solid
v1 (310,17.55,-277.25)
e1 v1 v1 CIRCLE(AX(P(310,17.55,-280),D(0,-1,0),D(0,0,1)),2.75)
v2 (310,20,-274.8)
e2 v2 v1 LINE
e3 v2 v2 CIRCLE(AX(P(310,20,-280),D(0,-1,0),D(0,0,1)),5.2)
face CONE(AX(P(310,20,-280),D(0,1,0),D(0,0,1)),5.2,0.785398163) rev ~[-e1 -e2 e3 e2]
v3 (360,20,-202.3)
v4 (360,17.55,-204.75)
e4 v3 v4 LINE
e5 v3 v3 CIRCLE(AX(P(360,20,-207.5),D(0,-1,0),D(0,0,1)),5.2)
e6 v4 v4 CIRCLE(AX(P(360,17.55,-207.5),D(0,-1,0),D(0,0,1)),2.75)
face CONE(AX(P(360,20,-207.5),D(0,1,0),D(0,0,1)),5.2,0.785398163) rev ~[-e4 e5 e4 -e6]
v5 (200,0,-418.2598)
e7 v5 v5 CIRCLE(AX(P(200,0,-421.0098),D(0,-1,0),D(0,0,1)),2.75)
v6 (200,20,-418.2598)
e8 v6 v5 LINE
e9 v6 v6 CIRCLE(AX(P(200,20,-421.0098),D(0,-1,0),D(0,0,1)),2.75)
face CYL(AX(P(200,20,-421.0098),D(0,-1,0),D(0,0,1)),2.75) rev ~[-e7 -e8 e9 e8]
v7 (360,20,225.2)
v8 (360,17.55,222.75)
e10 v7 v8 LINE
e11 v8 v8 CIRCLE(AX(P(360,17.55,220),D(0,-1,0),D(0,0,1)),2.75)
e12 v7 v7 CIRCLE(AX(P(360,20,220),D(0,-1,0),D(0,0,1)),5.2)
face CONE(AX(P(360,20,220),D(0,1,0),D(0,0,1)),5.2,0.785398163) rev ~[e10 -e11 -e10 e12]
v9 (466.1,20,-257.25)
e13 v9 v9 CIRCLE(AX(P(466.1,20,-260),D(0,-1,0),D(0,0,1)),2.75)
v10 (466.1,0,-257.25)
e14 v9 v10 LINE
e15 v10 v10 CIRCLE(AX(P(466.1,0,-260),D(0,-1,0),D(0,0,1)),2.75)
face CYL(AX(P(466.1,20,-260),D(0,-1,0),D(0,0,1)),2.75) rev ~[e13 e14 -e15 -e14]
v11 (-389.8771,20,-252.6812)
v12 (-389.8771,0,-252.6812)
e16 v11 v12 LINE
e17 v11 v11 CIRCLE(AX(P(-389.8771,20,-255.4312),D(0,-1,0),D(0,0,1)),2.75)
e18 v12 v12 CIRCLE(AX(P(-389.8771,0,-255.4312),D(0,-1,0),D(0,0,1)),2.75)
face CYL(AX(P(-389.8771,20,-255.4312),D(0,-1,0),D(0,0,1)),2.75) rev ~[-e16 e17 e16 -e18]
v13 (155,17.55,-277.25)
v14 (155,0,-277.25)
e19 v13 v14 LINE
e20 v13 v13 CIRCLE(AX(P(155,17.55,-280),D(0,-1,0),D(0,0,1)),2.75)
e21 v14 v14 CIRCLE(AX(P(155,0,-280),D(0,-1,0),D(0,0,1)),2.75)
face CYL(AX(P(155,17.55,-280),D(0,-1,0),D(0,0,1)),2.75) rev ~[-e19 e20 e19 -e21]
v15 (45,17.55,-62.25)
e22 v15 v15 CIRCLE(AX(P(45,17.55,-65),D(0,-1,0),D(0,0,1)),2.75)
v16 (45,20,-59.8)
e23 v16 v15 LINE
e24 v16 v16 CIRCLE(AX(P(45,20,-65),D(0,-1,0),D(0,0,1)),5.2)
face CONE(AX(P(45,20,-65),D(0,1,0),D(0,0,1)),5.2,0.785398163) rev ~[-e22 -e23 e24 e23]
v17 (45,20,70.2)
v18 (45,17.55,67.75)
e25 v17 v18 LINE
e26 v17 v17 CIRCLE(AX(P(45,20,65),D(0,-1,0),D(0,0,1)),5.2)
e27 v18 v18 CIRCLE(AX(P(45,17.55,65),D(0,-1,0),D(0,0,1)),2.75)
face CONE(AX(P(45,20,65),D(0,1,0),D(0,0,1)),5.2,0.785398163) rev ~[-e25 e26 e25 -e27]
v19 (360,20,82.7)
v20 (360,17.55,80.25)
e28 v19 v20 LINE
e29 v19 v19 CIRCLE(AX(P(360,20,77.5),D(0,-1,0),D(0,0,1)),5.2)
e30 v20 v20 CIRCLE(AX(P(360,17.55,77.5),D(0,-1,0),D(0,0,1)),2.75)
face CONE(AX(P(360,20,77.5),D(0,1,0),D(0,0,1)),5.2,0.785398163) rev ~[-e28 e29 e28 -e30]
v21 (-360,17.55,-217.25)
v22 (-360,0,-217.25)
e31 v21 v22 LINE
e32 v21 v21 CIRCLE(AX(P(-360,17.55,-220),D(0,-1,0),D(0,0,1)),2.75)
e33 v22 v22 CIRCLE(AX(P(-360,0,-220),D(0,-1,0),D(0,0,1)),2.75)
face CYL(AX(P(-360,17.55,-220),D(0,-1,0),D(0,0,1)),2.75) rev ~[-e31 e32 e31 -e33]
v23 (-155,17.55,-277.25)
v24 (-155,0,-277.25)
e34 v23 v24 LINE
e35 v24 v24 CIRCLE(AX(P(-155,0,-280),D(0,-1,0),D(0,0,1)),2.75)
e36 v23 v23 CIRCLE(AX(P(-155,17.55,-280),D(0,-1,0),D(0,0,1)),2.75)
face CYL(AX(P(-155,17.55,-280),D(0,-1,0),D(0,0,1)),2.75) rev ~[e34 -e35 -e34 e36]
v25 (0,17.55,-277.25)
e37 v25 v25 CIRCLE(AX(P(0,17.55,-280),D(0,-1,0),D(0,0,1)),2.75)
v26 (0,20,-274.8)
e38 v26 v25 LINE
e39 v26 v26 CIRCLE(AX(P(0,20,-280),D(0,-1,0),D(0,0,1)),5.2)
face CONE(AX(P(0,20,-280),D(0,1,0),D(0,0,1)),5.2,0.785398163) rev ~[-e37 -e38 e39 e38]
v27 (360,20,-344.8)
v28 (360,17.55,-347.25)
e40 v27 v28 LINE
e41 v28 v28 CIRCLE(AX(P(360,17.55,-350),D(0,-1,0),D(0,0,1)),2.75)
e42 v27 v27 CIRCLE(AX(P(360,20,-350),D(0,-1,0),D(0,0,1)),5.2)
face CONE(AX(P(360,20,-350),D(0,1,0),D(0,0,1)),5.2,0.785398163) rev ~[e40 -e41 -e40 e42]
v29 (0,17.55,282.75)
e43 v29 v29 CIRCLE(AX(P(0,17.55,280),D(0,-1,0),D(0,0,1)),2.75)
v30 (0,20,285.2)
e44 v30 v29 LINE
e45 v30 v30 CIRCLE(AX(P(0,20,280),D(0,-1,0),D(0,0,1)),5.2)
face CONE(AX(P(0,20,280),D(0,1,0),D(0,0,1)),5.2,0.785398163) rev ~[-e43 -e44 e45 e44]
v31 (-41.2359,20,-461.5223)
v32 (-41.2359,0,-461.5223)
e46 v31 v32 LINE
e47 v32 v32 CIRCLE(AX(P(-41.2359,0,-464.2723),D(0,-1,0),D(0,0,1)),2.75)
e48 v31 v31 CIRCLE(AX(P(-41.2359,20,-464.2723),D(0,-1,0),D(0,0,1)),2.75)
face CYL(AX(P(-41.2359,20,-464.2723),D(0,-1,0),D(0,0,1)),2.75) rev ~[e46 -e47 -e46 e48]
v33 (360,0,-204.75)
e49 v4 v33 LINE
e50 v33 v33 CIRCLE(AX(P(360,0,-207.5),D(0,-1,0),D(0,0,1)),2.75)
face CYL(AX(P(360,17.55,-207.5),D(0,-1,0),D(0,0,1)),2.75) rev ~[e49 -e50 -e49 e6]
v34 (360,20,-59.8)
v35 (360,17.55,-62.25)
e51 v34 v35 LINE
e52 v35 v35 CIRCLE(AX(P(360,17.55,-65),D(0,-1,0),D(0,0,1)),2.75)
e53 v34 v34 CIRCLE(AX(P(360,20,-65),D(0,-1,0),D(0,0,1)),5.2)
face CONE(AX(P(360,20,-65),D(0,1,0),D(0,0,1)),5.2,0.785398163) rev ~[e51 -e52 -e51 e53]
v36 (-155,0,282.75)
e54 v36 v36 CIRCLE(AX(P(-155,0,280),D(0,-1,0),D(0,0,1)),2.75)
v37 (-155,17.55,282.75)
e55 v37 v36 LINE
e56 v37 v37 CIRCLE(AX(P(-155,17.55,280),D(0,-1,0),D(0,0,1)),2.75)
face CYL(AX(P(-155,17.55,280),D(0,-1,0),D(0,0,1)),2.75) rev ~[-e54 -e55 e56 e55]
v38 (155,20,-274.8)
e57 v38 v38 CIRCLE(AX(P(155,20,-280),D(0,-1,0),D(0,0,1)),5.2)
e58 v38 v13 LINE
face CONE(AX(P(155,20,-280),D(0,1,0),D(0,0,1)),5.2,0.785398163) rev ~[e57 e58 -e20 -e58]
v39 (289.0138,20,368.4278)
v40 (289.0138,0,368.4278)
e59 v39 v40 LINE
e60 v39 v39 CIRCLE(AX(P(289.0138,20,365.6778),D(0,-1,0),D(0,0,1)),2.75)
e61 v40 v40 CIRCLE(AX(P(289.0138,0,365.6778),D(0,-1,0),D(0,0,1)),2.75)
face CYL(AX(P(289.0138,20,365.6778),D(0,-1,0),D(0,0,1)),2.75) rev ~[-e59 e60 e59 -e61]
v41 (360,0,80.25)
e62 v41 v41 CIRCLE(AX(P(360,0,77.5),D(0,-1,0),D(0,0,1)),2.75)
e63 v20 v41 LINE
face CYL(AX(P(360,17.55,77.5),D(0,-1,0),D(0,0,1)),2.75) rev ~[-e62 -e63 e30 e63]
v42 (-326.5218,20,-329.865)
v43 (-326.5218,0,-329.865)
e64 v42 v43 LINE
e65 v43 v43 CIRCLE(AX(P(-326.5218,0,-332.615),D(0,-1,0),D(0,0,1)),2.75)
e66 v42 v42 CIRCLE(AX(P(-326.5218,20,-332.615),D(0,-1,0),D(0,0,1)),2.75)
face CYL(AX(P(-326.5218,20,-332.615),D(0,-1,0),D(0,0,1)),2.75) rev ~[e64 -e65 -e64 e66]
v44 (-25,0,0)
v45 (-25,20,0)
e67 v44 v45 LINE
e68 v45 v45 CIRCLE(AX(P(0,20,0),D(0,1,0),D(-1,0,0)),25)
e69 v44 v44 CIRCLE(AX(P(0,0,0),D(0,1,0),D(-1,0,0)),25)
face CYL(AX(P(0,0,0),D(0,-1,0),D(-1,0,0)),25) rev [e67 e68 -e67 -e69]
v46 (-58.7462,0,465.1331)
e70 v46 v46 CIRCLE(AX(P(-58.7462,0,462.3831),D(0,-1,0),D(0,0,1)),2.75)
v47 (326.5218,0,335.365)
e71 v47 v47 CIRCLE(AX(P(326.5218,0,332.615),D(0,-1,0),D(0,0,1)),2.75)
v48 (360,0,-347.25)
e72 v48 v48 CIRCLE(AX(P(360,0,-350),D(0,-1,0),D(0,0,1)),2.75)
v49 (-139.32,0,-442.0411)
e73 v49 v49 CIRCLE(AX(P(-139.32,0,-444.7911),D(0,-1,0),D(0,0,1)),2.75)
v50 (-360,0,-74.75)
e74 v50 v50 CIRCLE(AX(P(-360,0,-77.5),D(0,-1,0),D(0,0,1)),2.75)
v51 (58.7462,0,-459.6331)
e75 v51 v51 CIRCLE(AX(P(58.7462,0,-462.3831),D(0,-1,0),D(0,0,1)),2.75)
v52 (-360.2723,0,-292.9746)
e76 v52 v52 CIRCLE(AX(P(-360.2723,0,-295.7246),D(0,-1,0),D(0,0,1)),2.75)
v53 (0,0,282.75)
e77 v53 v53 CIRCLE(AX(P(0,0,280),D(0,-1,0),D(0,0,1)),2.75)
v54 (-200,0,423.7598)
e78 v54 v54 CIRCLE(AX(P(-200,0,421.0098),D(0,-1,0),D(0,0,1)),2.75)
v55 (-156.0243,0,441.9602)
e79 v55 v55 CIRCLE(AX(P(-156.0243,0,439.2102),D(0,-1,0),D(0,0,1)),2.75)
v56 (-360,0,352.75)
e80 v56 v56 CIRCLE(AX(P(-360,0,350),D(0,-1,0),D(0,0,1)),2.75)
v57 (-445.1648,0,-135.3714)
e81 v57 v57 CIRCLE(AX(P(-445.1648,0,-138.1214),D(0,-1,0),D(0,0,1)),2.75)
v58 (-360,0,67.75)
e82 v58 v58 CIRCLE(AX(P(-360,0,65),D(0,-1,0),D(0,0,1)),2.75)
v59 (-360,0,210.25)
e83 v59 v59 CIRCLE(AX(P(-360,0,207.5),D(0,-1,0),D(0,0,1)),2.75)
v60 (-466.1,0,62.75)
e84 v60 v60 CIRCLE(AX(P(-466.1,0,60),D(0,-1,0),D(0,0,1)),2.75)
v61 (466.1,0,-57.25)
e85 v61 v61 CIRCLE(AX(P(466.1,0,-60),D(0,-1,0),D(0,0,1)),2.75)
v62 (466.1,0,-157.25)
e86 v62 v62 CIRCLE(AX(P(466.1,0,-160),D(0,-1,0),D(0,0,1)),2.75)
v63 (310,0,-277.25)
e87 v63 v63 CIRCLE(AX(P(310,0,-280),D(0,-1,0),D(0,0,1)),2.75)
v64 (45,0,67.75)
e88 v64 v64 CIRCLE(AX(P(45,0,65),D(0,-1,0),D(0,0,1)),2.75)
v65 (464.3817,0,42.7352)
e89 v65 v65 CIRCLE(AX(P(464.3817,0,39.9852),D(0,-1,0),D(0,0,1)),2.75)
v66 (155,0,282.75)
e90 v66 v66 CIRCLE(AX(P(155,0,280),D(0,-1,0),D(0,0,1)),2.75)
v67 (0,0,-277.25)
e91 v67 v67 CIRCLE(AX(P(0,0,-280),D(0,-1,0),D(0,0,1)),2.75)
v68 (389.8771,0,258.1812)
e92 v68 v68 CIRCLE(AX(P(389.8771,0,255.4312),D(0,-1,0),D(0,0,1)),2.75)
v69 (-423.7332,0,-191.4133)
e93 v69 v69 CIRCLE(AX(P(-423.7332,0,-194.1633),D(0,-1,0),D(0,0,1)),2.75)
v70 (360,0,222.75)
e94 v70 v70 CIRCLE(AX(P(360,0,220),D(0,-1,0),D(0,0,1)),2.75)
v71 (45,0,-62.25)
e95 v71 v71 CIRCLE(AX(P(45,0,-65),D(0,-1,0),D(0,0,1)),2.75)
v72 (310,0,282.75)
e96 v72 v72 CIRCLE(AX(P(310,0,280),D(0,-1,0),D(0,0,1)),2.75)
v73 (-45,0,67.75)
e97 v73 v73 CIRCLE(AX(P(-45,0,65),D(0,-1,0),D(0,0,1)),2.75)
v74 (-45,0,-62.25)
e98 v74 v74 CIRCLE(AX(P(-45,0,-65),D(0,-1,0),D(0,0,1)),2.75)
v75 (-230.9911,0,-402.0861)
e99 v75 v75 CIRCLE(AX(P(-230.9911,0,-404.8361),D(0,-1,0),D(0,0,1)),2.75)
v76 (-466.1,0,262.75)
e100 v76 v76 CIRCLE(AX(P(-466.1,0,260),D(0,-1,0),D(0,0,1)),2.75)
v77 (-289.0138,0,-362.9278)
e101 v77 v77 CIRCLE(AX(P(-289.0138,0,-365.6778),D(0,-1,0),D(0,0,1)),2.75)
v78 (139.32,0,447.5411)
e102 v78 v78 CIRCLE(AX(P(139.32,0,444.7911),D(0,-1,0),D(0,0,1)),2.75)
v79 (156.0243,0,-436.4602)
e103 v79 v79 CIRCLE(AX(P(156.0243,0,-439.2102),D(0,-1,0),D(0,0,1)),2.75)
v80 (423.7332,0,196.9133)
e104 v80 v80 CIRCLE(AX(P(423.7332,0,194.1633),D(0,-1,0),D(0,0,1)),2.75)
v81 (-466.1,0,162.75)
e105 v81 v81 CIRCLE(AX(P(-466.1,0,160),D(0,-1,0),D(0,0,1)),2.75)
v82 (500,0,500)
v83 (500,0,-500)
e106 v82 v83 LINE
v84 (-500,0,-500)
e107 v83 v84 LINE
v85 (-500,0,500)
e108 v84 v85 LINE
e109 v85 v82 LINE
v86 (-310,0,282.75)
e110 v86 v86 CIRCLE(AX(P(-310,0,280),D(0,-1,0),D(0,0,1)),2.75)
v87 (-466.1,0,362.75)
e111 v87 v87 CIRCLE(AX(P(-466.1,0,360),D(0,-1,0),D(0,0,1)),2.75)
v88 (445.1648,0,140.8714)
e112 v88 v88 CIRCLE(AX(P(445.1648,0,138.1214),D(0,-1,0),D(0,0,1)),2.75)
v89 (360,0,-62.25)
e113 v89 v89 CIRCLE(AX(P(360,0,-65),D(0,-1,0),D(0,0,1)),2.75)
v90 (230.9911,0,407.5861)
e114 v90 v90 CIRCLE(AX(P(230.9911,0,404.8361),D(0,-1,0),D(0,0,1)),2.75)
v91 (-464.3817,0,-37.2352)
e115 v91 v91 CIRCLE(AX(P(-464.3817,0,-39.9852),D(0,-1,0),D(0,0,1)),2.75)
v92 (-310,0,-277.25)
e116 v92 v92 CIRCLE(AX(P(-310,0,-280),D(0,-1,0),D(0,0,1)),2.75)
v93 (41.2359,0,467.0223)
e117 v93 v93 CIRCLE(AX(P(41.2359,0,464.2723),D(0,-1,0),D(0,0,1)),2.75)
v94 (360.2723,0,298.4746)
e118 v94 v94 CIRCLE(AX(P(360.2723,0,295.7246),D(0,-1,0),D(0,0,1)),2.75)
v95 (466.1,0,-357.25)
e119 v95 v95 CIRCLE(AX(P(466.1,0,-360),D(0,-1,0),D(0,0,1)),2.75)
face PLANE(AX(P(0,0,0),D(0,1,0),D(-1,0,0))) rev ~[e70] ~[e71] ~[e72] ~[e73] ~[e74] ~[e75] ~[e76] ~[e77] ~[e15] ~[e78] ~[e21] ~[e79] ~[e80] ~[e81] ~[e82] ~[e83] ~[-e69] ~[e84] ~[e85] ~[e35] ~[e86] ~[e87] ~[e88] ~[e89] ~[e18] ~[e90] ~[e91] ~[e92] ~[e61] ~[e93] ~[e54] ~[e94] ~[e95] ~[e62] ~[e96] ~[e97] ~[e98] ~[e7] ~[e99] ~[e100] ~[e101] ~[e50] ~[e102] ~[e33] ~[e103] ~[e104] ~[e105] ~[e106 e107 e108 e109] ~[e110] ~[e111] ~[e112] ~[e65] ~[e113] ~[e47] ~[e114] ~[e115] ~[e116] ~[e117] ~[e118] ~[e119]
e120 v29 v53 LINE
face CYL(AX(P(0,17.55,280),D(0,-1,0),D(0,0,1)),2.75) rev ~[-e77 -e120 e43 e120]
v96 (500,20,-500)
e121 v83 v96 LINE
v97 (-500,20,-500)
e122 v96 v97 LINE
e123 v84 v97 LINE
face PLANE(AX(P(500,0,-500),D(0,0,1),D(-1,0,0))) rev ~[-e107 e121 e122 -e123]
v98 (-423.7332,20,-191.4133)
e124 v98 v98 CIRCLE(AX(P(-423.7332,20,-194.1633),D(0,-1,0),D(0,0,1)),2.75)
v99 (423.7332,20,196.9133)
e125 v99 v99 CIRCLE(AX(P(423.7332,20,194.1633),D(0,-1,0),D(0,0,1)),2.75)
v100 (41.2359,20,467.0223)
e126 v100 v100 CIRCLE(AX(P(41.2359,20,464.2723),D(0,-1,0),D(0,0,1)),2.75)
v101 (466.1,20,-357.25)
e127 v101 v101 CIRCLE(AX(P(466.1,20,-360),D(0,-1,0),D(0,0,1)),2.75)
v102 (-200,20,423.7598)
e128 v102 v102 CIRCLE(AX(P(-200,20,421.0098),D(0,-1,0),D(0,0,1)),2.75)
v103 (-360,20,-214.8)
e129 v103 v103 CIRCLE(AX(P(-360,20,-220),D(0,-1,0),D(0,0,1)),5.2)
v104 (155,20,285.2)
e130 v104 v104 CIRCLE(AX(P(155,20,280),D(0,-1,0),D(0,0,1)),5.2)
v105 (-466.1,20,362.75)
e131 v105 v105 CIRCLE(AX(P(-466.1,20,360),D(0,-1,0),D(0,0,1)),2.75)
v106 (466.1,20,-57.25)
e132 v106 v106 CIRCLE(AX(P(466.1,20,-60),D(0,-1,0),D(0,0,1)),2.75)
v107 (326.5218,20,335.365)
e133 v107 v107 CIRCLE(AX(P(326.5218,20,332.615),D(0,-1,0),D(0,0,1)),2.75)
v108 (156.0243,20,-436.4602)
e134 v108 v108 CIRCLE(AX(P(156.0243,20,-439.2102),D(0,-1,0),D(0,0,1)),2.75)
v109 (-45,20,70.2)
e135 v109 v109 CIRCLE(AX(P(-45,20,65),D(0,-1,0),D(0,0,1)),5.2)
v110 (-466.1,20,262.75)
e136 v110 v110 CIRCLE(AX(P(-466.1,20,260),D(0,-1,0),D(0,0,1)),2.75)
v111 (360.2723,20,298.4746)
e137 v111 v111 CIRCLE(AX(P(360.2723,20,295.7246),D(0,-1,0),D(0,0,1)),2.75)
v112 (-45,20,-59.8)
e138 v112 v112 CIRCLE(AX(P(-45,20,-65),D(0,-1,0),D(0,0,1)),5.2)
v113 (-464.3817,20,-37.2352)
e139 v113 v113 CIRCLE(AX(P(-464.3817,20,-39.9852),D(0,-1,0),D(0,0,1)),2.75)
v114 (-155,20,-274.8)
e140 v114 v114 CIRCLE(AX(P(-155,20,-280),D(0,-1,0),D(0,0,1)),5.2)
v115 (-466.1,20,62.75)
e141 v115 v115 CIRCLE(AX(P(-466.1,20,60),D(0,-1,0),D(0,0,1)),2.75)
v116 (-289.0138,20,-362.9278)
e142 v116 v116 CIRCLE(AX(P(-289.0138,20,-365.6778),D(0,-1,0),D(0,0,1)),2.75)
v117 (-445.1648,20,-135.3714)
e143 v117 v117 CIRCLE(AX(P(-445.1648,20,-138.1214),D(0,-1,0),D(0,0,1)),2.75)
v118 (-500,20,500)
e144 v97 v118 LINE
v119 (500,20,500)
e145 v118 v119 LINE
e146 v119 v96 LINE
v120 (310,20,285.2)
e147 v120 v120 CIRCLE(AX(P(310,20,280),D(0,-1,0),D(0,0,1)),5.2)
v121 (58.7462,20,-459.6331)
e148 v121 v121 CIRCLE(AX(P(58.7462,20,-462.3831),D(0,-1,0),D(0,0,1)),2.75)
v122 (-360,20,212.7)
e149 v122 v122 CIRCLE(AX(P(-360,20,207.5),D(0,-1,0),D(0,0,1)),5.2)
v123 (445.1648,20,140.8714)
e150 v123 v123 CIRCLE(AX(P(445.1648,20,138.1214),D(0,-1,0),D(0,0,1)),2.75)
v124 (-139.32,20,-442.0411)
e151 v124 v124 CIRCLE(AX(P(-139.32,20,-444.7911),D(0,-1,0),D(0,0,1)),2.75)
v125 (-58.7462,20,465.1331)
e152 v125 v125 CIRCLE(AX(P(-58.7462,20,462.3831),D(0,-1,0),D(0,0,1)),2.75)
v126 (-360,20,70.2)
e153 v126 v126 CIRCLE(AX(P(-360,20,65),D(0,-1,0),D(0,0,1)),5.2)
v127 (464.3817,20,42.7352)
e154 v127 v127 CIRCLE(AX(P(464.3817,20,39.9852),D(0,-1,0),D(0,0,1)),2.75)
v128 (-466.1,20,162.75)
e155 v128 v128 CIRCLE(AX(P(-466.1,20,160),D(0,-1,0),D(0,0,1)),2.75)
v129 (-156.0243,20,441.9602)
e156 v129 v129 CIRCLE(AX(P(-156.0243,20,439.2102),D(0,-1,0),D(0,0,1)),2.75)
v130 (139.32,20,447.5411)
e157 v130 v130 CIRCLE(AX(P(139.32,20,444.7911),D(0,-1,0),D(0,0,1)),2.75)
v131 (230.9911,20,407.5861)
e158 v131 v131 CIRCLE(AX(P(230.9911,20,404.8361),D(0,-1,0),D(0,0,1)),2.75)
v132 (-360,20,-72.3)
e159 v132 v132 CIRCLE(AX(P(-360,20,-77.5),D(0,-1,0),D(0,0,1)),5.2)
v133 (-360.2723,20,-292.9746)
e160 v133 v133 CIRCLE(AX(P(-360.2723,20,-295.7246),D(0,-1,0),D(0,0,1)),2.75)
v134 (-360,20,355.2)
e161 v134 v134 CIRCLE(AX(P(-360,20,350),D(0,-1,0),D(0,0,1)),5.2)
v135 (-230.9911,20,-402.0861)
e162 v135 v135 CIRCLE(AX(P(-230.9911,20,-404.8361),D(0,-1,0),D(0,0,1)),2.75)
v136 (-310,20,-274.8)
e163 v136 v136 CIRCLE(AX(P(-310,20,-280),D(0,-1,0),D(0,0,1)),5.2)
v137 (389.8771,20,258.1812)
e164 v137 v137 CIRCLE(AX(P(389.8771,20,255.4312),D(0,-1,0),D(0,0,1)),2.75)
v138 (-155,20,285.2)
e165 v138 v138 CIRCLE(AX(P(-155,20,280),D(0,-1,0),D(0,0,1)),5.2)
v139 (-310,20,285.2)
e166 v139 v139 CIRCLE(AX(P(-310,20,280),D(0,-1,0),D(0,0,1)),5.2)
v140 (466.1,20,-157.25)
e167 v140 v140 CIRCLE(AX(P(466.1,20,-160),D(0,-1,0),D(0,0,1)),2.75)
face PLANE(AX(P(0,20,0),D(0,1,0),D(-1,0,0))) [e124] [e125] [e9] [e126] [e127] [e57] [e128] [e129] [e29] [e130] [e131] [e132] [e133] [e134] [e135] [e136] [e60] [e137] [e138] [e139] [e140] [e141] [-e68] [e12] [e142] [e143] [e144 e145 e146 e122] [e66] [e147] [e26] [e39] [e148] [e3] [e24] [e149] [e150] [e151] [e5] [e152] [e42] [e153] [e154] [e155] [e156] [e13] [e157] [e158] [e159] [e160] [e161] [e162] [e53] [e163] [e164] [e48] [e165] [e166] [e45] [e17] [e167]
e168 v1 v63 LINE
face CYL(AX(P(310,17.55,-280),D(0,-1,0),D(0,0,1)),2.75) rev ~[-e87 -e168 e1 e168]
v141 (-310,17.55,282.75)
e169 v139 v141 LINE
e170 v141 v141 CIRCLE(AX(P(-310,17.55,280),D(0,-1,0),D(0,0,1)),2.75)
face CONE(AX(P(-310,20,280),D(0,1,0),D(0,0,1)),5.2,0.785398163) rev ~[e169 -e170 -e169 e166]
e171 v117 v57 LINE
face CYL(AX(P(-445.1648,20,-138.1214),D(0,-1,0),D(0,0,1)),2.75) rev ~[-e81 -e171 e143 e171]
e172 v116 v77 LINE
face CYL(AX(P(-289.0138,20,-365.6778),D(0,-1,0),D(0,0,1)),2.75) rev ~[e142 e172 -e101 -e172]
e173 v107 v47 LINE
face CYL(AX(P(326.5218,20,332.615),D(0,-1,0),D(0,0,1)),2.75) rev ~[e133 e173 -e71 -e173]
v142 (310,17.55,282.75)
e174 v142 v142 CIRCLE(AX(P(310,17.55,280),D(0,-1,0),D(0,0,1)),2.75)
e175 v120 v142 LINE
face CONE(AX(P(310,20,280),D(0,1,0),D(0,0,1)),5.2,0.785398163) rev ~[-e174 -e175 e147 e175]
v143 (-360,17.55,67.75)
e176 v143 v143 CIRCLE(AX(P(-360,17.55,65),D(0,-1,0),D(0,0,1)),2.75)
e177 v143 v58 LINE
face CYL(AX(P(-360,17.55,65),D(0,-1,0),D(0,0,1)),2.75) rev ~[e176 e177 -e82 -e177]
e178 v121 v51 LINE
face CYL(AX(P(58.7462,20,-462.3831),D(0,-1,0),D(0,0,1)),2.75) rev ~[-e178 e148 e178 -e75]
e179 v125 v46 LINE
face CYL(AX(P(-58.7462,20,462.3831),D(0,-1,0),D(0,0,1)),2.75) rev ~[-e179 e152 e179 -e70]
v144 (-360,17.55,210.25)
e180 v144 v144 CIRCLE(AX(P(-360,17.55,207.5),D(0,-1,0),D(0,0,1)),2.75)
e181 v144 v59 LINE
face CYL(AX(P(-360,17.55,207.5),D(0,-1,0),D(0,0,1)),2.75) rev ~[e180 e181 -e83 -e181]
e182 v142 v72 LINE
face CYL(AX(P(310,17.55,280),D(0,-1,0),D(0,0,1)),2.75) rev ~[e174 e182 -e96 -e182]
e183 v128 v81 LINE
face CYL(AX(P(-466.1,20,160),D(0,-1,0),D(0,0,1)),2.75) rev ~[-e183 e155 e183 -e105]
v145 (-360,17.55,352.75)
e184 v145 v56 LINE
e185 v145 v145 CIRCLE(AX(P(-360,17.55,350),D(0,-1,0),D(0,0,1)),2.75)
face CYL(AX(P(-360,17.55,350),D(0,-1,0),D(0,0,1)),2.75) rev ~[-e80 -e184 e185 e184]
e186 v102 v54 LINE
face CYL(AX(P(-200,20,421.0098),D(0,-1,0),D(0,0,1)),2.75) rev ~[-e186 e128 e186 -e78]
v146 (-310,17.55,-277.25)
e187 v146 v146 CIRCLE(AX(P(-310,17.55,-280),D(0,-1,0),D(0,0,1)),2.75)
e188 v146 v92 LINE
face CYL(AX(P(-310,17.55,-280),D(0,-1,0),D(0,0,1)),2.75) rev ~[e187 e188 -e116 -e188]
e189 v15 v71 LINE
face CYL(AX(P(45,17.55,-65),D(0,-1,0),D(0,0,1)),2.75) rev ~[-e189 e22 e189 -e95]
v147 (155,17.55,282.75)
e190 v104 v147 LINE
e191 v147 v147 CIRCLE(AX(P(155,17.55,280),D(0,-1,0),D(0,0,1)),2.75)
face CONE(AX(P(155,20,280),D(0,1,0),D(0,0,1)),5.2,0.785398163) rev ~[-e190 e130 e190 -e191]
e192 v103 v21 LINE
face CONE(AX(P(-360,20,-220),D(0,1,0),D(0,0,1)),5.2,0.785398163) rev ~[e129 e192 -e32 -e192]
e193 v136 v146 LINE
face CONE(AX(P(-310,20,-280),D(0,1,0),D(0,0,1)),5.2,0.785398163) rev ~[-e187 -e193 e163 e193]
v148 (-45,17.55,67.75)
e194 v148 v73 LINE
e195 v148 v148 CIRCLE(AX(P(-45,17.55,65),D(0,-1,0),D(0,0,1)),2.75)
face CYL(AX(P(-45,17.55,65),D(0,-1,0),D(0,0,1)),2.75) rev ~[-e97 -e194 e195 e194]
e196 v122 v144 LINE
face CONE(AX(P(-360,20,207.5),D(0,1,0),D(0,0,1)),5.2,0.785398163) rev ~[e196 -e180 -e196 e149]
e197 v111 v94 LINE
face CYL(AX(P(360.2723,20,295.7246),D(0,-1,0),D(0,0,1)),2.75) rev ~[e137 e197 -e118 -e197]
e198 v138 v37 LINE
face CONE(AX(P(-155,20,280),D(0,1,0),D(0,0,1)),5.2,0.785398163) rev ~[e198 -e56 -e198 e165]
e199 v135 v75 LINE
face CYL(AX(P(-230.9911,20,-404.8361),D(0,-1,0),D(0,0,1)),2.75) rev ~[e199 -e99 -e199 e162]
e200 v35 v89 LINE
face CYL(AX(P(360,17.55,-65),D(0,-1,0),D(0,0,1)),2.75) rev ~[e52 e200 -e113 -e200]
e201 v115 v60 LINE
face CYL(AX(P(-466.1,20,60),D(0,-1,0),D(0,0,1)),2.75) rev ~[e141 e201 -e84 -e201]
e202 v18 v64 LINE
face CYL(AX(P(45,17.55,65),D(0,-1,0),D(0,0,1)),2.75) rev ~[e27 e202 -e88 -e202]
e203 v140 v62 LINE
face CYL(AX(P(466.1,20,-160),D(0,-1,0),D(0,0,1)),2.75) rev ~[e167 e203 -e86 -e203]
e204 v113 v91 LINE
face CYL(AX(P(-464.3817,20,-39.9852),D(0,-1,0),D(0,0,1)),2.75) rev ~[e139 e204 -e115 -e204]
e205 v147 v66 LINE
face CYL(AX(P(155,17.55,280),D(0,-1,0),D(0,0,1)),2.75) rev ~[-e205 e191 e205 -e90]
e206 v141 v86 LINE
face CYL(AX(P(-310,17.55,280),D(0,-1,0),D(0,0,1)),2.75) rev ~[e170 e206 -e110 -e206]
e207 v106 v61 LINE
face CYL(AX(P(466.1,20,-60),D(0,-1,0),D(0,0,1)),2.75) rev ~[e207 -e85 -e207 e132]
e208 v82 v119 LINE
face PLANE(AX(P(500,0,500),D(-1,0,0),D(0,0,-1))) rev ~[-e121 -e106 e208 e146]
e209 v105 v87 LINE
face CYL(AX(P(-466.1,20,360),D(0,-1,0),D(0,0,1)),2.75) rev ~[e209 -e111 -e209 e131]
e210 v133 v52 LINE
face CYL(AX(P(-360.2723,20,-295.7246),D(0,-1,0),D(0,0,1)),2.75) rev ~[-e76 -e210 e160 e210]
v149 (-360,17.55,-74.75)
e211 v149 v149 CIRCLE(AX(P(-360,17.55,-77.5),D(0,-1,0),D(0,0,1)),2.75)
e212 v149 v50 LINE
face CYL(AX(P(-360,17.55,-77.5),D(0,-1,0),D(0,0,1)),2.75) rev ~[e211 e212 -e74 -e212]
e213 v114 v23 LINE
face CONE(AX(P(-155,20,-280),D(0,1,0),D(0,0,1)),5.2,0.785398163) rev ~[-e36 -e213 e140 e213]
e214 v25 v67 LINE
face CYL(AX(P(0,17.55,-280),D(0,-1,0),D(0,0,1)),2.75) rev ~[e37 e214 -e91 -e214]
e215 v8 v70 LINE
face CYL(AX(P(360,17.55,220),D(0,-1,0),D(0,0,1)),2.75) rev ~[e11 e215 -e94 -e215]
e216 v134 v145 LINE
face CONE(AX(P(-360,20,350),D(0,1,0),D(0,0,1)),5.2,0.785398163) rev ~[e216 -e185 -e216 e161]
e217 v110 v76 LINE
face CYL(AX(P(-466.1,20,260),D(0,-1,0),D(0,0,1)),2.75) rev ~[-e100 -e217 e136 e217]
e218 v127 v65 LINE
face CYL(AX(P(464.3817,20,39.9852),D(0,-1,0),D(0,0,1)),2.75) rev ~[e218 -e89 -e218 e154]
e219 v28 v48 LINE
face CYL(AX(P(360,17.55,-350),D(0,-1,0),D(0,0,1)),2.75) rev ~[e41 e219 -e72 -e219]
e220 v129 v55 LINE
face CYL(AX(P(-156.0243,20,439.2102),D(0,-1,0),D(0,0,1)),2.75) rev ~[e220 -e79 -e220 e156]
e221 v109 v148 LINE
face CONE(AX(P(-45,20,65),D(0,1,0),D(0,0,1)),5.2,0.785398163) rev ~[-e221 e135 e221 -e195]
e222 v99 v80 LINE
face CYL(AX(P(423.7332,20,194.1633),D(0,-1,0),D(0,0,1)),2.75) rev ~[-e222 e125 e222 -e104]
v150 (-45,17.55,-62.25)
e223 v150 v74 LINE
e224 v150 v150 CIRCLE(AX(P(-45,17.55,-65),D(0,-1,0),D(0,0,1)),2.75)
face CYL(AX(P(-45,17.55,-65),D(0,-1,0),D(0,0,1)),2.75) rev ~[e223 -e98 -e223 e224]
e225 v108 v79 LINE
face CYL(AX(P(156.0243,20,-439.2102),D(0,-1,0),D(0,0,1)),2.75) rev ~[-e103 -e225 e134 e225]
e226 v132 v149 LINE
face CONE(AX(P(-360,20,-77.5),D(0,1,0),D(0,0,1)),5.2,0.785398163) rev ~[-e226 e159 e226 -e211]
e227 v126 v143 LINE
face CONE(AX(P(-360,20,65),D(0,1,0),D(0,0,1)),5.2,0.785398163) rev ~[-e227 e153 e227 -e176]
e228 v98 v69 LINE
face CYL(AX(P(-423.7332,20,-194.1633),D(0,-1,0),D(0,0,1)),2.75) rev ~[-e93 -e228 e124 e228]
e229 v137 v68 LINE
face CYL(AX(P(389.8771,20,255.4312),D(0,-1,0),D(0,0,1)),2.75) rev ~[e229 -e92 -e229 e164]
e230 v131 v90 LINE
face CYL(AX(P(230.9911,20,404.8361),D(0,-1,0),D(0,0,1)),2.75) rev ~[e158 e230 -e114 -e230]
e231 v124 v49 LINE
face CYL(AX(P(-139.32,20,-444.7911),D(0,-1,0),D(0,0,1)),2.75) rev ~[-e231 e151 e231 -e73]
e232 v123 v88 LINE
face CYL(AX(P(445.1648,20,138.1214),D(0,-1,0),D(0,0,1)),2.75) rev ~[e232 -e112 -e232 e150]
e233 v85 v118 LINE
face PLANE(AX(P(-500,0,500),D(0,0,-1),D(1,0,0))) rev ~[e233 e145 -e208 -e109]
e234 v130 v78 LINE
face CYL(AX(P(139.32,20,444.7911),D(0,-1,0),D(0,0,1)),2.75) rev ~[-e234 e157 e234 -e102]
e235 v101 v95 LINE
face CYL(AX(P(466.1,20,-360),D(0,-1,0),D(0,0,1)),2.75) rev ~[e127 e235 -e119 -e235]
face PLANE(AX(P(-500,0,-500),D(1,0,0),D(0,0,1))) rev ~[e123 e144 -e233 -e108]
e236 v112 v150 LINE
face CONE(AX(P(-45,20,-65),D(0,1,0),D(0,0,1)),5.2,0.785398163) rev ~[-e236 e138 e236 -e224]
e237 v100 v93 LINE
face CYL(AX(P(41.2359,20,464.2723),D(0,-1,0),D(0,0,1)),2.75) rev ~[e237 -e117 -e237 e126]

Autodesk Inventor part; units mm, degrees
ref_plane "YZ Plane" through (0, 0, 0) normal (1, 0, 0) x (0, 1, 0)
ref_plane "XZ Plane" through (0, 0, 0) normal (0, 1, 0) x (-1, 0, 0)
ref_plane "XY Plane" through (0, 0, 0) normal (0, 0, 1) x (1, 0, 0)
sketch "Sketch1" plane through (0, 0, 0) normal (0, 1, 0) x (-1, 0, 0)
  line L0 (0, -102.1042) -> (0, 102.1042) construction
  line L1 (37.5532, 0) -> (-37.5532, 0) construction
  line L2 (500, 500) -> (-500, 500)
  line L3 (-500, 500) -> (-500, -500)
  line L4 (-500, -500) -> (500, -500)
  line L5 (500, -500) -> (500, 500)
  circle A0 centre (0, 0) radius 25
  dimension "d0" = 1000
  dimension "d1" = 1000
  dimension "d2" = 50
extrude "Extrusion1" add sketch "Sketch1" along normal blind 20
sketch "Sketch3" plane through (0, 20, 0) normal (0, 1, 0) x (1, 0, 0)
  line L0 (464.3817, -39.9852) -> (0, 0) construction
  line L1 (0, 0) -> (445.1648, -138.1214) construction
  line L2 (423.7332, -194.1633) -> (0, 0) construction
  line L3 (360.2723, -295.7246) -> (0, 0) construction
  line L4 (289.0138, -365.6778) -> (0, 0) construction
  line L5 (389.8771, -255.4312) -> (0, 0) construction
  line L6 (326.5218, -332.615) -> (0, 0) construction
  line L7 (230.9911, -404.8361) -> (0, 0) construction
  line L8 (139.32, -444.7911) -> (0, 0) construction
  line L9 (41.2359, -464.2723) -> (0, 0) construction
  line L10 (464.3817, -39.9852) -> (445.1648, -138.1214) construction
  line L11 (445.1648, -138.1214) -> (423.7332, -194.1633) construction
  line L12 (423.7332, -194.1633) -> (389.8771, -255.4312) construction
  line L13 (389.8771, -255.4312) -> (360.2723, -295.7246) construction
  line L14 (360.2723, -295.7246) -> (326.5218, -332.615) construction
  line L15 (326.5218, -332.615) -> (289.0138, -365.6778) construction
  line L16 (289.0138, -365.6778) -> (230.9911, -404.8361) construction
  line L17 (230.9911, -404.8361) -> (139.32, -444.7911) construction
  line L18 (139.32, -444.7911) -> (41.2359, -464.2723) construction
  line L19 (-58.7462, -462.3831) -> (0, 0) construction
  line L20 (-156.0243, -439.2102) -> (0, 0) construction
  line L21 (-200, -421.0098) -> (0, 0) construction
  line L22 (41.2359, -464.2723) -> (-58.7462, -462.3831) construction
  line L23 (-58.7462, -462.3831) -> (-156.0243, -439.2102) construction
  line L24 (-200, -421.0098) -> (-156.0243, -439.2102) construction
  line L25 (500, 500) -> (-500, 500) projected
  line L26 (500, -500) -> (500, 500) projected
  line L27 (-16.3542, 0) -> (16.3542, 0) construction
  line L28 (0, 9.5055) -> (0, -9.5055) construction
  line L29 (-500, -500) -> (500, -500) projected
  line L30 (-466.1, -260) -> (-466.1, -360) construction
  line L31 (-500, 500) -> (-500, -500) construction
  line L32 (-466.1, -260) -> (-466.1, -160) construction
  line L33 (-466.1, -160) -> (-466.1, -60) construction
  line L34 (-464.3817, 39.9852) -> (0, 0) construction
  line L35 (-445.1648, 138.1214) -> (0, 0) construction
  circle A0 centre (0, 0) radius 25 construction
  line L36 (-423.7332, 194.1633) -> (0, 0) construction
  line L37 (0, 0) -> (-389.8771, 255.4312) construction
  line L38 (-360.2723, 295.7246) -> (0, 0) construction
  line L39 (-326.5218, 332.615) -> (0, 0) construction
  line L40 (0, 0) -> (-289.0138, 365.6778) construction
  line L41 (-230.9911, 404.8361) -> (0, 0) construction
  line L42 (-139.32, 444.7911) -> (0, 0) construction
  line L43 (-41.2359, 464.2723) -> (0, 0) construction
  line L44 (-466.1, -60) -> (-464.3817, 39.9852) construction
  line L45 (-464.3817, 39.9852) -> (-445.1648, 138.1214) construction
  line L46 (-445.1648, 138.1214) -> (-423.7332, 194.1633) construction
  line L47 (-423.7332, 194.1633) -> (-389.8771, 255.4312) construction
  line L48 (-389.8771, 255.4312) -> (-360.2723, 295.7246) construction
  line L49 (-360.2723, 295.7246) -> (-326.5218, 332.615) construction
  line L50 (-326.5218, 332.615) -> (-289.0138, 365.6778) construction
  line L51 (-289.0138, 365.6778) -> (-230.9911, 404.8361) construction
  line L52 (-230.9911, 404.8361) -> (-139.32, 444.7911) construction
  line L53 (-139.32, 444.7911) -> (-41.2359, 464.2723) construction
  line L54 (58.7462, 462.3831) -> (0, 0) construction
  line L55 (156.0243, 439.2102) -> (0, 0) construction
  line L56 (200, 421.0098) -> (0, 0) construction
  line L57 (58.7462, 462.3831) -> (-41.2359, 464.2723) construction
  line L58 (58.7462, 462.3831) -> (156.0243, 439.2102) construction
  line L59 (156.0243, 439.2102) -> (200, 421.0098) construction
  point P0 (466.1, 360)
  point P1 (466.1, 260)
  point P2 (466.1, 160)
  point P3 (466.1, 60)
  dimension "d62" = 100
  dimension "d63" = 100
  dimension "d64" = 100
  dimension "d66" = 466.1
  dimension "d67" = 100
  dimension "d68" = 100
  dimension "d69" = 60
  dimension "d70" = 70
  dimension "d71" = 50
  dimension "d72" = 70
  dimension "d73" = 100
  dimension "d76" = 140
  dimension "d77" = 33.9
  dimension "d78" = 700
  dimension "d79" = 140
  dimension "d80" = 100
  dimension "d82" = 33.9
  dimension "d84" = 60
  dimension "d85" = 70
  dimension "d86" = 50
  dimension "d87" = 70
  dimension "d88" = 100
  dimension "d89" = 700
hole "Hole2" at (-200, 20, 421.0098) at (-156.0243, 20, 439.2102) at (-58.7462, 20, 462.3831) at (41.2359, 20, 464.2723) at (139.32, 20, 444.7911) at (230.9911, 20, 404.8361) at (289.0138, 20, 365.6778) at (326.5218, 20, 332.615) at (360.2723, 20, 295.7246) at (389.8771, 20, 255.4312) at (423.7332, 20, 194.1633) at (445.1648, 20, 138.1214) at (464.3817, 20, 39.9852) at (466.1, 20, -60) at (466.1, 20, -160) at (466.1, 20, -260) at (466.1, 20, -360) at (-466.1, 20, 360) at (-466.1, 20, 260) at (-466.1, 20, 160) at (-466.1, 20, 60) at (-464.3817, 20, -39.9852) at (-445.1648, 20, -138.1214) at (-423.7332, 20, -194.1633) at (-389.8771, 20, -255.4312) at (-360.2723, 20, -295.7246) at (-326.5218, 20, -332.615) at (-289.0138, 20, -365.6778) at (-230.9911, 20, -404.8361) at (-139.32, 20, -444.7911) at (-41.2359, 20, -464.2723) at (58.7462, 20, -462.3831) at (156.0243, 20, -439.2102) at (200, 20, -421.0098) direction (0, -1, 0) diameter 5.5 end through all clearance for "Countersunk Flat Head Screw DIN EN ISO 2009" size "M5" standard "DIN"
sketch "Sketch4" plane through (0, 20, 0) normal (0, 1, 0) x (1, 0, 0)
  line L0 (500, -500) -> (500, 500) projected
  line L1 (-500, 500) -> (-500, -500) projected
  line L2 (-500, -500) -> (500, -500) projected
  line L3 (500, 500) -> (-500, 500) projected
  line L4 (-360, 220) -> (-360, 77.5) construction
  line L5 (-360, 77.5) -> (-360, -65) construction
  line L6 (-360, -65) -> (-360, -207.5) construction
  line L7 (-360, -207.5) -> (-360, -350) construction
  line L8 (360, 350) -> (360, 207.5) construction
  line L9 (360, 207.5) -> (360, 65) construction
  line L10 (360, 65) -> (360, -77.5) construction
  line L11 (360, -77.5) -> (360, -220) construction
  line L12 (310, -280) -> (155, -280) construction
  line L13 (155, -280) -> (0, -280) construction
  line L14 (0, -280) -> (-155, -280) construction
  line L15 (-155, -280) -> (-310, -280) construction
  line L16 (-310, 280) -> (-155, 280) construction
  line L17 (-155, 280) -> (0, 280) construction
  line L18 (0, 280) -> (155, 280) construction
  line L19 (155, 280) -> (310, 280) construction
  line L20 (0, 7.0345) -> (0, -7.0345) construction
  line L21 (-9.8826, 0) -> (9.8826, 0) construction
  point P0 (0, 0)
  point P1 (-45, 65)
  point P2 (-45, -65)
  point P3 (45, -65)
  point P4 (45, 65)
  point P5 (0, 0)
  dimension "d42" = 140
  dimension "d43" = 140
  dimension "d44" = 150
  dimension "d45" = 150
  dimension "d46" = 570
  dimension "d47" = 570
  dimension "d55" = 220
  dimension "d56" = 220
  dimension "d57" = 50
  dimension "d58" = 50
  dimension "d59" = 90
  dimension "d60" = 130
hole "Hole3" at (360, 20, -350) at (360, 20, -207.5) at (360, 20, 77.5) at (360, 20, 220) at (360, 20, -65) at (-360, 20, 350) at (-360, 20, 207.5) at (-360, 20, 65) at (-360, 20, -220) at (-360, 20, -77.5) at (-310, 20, -280) at (-155, 20, -280) at (0, 20, -280) at (155, 20, -280) at (310, 20, -280) at (310, 20, 280) at (155, 20, 280) at (0, 20, 280) at (-155, 20, 280) at (-310, 20, 280) at (-45, 20, -65) at (45, 20, -65) at (-45, 20, 65) at (45, 20, 65) direction (0, -1, 0) diameter 5.5 end through all countersink diameter 10.4 countersink angle 90 clearance for "Countersunk Flat Head Screw DIN EN ISO 2009" size "M5" standard "DIN"
properties part number "groundPlateWoodV1" material "PMMA Plastic"
